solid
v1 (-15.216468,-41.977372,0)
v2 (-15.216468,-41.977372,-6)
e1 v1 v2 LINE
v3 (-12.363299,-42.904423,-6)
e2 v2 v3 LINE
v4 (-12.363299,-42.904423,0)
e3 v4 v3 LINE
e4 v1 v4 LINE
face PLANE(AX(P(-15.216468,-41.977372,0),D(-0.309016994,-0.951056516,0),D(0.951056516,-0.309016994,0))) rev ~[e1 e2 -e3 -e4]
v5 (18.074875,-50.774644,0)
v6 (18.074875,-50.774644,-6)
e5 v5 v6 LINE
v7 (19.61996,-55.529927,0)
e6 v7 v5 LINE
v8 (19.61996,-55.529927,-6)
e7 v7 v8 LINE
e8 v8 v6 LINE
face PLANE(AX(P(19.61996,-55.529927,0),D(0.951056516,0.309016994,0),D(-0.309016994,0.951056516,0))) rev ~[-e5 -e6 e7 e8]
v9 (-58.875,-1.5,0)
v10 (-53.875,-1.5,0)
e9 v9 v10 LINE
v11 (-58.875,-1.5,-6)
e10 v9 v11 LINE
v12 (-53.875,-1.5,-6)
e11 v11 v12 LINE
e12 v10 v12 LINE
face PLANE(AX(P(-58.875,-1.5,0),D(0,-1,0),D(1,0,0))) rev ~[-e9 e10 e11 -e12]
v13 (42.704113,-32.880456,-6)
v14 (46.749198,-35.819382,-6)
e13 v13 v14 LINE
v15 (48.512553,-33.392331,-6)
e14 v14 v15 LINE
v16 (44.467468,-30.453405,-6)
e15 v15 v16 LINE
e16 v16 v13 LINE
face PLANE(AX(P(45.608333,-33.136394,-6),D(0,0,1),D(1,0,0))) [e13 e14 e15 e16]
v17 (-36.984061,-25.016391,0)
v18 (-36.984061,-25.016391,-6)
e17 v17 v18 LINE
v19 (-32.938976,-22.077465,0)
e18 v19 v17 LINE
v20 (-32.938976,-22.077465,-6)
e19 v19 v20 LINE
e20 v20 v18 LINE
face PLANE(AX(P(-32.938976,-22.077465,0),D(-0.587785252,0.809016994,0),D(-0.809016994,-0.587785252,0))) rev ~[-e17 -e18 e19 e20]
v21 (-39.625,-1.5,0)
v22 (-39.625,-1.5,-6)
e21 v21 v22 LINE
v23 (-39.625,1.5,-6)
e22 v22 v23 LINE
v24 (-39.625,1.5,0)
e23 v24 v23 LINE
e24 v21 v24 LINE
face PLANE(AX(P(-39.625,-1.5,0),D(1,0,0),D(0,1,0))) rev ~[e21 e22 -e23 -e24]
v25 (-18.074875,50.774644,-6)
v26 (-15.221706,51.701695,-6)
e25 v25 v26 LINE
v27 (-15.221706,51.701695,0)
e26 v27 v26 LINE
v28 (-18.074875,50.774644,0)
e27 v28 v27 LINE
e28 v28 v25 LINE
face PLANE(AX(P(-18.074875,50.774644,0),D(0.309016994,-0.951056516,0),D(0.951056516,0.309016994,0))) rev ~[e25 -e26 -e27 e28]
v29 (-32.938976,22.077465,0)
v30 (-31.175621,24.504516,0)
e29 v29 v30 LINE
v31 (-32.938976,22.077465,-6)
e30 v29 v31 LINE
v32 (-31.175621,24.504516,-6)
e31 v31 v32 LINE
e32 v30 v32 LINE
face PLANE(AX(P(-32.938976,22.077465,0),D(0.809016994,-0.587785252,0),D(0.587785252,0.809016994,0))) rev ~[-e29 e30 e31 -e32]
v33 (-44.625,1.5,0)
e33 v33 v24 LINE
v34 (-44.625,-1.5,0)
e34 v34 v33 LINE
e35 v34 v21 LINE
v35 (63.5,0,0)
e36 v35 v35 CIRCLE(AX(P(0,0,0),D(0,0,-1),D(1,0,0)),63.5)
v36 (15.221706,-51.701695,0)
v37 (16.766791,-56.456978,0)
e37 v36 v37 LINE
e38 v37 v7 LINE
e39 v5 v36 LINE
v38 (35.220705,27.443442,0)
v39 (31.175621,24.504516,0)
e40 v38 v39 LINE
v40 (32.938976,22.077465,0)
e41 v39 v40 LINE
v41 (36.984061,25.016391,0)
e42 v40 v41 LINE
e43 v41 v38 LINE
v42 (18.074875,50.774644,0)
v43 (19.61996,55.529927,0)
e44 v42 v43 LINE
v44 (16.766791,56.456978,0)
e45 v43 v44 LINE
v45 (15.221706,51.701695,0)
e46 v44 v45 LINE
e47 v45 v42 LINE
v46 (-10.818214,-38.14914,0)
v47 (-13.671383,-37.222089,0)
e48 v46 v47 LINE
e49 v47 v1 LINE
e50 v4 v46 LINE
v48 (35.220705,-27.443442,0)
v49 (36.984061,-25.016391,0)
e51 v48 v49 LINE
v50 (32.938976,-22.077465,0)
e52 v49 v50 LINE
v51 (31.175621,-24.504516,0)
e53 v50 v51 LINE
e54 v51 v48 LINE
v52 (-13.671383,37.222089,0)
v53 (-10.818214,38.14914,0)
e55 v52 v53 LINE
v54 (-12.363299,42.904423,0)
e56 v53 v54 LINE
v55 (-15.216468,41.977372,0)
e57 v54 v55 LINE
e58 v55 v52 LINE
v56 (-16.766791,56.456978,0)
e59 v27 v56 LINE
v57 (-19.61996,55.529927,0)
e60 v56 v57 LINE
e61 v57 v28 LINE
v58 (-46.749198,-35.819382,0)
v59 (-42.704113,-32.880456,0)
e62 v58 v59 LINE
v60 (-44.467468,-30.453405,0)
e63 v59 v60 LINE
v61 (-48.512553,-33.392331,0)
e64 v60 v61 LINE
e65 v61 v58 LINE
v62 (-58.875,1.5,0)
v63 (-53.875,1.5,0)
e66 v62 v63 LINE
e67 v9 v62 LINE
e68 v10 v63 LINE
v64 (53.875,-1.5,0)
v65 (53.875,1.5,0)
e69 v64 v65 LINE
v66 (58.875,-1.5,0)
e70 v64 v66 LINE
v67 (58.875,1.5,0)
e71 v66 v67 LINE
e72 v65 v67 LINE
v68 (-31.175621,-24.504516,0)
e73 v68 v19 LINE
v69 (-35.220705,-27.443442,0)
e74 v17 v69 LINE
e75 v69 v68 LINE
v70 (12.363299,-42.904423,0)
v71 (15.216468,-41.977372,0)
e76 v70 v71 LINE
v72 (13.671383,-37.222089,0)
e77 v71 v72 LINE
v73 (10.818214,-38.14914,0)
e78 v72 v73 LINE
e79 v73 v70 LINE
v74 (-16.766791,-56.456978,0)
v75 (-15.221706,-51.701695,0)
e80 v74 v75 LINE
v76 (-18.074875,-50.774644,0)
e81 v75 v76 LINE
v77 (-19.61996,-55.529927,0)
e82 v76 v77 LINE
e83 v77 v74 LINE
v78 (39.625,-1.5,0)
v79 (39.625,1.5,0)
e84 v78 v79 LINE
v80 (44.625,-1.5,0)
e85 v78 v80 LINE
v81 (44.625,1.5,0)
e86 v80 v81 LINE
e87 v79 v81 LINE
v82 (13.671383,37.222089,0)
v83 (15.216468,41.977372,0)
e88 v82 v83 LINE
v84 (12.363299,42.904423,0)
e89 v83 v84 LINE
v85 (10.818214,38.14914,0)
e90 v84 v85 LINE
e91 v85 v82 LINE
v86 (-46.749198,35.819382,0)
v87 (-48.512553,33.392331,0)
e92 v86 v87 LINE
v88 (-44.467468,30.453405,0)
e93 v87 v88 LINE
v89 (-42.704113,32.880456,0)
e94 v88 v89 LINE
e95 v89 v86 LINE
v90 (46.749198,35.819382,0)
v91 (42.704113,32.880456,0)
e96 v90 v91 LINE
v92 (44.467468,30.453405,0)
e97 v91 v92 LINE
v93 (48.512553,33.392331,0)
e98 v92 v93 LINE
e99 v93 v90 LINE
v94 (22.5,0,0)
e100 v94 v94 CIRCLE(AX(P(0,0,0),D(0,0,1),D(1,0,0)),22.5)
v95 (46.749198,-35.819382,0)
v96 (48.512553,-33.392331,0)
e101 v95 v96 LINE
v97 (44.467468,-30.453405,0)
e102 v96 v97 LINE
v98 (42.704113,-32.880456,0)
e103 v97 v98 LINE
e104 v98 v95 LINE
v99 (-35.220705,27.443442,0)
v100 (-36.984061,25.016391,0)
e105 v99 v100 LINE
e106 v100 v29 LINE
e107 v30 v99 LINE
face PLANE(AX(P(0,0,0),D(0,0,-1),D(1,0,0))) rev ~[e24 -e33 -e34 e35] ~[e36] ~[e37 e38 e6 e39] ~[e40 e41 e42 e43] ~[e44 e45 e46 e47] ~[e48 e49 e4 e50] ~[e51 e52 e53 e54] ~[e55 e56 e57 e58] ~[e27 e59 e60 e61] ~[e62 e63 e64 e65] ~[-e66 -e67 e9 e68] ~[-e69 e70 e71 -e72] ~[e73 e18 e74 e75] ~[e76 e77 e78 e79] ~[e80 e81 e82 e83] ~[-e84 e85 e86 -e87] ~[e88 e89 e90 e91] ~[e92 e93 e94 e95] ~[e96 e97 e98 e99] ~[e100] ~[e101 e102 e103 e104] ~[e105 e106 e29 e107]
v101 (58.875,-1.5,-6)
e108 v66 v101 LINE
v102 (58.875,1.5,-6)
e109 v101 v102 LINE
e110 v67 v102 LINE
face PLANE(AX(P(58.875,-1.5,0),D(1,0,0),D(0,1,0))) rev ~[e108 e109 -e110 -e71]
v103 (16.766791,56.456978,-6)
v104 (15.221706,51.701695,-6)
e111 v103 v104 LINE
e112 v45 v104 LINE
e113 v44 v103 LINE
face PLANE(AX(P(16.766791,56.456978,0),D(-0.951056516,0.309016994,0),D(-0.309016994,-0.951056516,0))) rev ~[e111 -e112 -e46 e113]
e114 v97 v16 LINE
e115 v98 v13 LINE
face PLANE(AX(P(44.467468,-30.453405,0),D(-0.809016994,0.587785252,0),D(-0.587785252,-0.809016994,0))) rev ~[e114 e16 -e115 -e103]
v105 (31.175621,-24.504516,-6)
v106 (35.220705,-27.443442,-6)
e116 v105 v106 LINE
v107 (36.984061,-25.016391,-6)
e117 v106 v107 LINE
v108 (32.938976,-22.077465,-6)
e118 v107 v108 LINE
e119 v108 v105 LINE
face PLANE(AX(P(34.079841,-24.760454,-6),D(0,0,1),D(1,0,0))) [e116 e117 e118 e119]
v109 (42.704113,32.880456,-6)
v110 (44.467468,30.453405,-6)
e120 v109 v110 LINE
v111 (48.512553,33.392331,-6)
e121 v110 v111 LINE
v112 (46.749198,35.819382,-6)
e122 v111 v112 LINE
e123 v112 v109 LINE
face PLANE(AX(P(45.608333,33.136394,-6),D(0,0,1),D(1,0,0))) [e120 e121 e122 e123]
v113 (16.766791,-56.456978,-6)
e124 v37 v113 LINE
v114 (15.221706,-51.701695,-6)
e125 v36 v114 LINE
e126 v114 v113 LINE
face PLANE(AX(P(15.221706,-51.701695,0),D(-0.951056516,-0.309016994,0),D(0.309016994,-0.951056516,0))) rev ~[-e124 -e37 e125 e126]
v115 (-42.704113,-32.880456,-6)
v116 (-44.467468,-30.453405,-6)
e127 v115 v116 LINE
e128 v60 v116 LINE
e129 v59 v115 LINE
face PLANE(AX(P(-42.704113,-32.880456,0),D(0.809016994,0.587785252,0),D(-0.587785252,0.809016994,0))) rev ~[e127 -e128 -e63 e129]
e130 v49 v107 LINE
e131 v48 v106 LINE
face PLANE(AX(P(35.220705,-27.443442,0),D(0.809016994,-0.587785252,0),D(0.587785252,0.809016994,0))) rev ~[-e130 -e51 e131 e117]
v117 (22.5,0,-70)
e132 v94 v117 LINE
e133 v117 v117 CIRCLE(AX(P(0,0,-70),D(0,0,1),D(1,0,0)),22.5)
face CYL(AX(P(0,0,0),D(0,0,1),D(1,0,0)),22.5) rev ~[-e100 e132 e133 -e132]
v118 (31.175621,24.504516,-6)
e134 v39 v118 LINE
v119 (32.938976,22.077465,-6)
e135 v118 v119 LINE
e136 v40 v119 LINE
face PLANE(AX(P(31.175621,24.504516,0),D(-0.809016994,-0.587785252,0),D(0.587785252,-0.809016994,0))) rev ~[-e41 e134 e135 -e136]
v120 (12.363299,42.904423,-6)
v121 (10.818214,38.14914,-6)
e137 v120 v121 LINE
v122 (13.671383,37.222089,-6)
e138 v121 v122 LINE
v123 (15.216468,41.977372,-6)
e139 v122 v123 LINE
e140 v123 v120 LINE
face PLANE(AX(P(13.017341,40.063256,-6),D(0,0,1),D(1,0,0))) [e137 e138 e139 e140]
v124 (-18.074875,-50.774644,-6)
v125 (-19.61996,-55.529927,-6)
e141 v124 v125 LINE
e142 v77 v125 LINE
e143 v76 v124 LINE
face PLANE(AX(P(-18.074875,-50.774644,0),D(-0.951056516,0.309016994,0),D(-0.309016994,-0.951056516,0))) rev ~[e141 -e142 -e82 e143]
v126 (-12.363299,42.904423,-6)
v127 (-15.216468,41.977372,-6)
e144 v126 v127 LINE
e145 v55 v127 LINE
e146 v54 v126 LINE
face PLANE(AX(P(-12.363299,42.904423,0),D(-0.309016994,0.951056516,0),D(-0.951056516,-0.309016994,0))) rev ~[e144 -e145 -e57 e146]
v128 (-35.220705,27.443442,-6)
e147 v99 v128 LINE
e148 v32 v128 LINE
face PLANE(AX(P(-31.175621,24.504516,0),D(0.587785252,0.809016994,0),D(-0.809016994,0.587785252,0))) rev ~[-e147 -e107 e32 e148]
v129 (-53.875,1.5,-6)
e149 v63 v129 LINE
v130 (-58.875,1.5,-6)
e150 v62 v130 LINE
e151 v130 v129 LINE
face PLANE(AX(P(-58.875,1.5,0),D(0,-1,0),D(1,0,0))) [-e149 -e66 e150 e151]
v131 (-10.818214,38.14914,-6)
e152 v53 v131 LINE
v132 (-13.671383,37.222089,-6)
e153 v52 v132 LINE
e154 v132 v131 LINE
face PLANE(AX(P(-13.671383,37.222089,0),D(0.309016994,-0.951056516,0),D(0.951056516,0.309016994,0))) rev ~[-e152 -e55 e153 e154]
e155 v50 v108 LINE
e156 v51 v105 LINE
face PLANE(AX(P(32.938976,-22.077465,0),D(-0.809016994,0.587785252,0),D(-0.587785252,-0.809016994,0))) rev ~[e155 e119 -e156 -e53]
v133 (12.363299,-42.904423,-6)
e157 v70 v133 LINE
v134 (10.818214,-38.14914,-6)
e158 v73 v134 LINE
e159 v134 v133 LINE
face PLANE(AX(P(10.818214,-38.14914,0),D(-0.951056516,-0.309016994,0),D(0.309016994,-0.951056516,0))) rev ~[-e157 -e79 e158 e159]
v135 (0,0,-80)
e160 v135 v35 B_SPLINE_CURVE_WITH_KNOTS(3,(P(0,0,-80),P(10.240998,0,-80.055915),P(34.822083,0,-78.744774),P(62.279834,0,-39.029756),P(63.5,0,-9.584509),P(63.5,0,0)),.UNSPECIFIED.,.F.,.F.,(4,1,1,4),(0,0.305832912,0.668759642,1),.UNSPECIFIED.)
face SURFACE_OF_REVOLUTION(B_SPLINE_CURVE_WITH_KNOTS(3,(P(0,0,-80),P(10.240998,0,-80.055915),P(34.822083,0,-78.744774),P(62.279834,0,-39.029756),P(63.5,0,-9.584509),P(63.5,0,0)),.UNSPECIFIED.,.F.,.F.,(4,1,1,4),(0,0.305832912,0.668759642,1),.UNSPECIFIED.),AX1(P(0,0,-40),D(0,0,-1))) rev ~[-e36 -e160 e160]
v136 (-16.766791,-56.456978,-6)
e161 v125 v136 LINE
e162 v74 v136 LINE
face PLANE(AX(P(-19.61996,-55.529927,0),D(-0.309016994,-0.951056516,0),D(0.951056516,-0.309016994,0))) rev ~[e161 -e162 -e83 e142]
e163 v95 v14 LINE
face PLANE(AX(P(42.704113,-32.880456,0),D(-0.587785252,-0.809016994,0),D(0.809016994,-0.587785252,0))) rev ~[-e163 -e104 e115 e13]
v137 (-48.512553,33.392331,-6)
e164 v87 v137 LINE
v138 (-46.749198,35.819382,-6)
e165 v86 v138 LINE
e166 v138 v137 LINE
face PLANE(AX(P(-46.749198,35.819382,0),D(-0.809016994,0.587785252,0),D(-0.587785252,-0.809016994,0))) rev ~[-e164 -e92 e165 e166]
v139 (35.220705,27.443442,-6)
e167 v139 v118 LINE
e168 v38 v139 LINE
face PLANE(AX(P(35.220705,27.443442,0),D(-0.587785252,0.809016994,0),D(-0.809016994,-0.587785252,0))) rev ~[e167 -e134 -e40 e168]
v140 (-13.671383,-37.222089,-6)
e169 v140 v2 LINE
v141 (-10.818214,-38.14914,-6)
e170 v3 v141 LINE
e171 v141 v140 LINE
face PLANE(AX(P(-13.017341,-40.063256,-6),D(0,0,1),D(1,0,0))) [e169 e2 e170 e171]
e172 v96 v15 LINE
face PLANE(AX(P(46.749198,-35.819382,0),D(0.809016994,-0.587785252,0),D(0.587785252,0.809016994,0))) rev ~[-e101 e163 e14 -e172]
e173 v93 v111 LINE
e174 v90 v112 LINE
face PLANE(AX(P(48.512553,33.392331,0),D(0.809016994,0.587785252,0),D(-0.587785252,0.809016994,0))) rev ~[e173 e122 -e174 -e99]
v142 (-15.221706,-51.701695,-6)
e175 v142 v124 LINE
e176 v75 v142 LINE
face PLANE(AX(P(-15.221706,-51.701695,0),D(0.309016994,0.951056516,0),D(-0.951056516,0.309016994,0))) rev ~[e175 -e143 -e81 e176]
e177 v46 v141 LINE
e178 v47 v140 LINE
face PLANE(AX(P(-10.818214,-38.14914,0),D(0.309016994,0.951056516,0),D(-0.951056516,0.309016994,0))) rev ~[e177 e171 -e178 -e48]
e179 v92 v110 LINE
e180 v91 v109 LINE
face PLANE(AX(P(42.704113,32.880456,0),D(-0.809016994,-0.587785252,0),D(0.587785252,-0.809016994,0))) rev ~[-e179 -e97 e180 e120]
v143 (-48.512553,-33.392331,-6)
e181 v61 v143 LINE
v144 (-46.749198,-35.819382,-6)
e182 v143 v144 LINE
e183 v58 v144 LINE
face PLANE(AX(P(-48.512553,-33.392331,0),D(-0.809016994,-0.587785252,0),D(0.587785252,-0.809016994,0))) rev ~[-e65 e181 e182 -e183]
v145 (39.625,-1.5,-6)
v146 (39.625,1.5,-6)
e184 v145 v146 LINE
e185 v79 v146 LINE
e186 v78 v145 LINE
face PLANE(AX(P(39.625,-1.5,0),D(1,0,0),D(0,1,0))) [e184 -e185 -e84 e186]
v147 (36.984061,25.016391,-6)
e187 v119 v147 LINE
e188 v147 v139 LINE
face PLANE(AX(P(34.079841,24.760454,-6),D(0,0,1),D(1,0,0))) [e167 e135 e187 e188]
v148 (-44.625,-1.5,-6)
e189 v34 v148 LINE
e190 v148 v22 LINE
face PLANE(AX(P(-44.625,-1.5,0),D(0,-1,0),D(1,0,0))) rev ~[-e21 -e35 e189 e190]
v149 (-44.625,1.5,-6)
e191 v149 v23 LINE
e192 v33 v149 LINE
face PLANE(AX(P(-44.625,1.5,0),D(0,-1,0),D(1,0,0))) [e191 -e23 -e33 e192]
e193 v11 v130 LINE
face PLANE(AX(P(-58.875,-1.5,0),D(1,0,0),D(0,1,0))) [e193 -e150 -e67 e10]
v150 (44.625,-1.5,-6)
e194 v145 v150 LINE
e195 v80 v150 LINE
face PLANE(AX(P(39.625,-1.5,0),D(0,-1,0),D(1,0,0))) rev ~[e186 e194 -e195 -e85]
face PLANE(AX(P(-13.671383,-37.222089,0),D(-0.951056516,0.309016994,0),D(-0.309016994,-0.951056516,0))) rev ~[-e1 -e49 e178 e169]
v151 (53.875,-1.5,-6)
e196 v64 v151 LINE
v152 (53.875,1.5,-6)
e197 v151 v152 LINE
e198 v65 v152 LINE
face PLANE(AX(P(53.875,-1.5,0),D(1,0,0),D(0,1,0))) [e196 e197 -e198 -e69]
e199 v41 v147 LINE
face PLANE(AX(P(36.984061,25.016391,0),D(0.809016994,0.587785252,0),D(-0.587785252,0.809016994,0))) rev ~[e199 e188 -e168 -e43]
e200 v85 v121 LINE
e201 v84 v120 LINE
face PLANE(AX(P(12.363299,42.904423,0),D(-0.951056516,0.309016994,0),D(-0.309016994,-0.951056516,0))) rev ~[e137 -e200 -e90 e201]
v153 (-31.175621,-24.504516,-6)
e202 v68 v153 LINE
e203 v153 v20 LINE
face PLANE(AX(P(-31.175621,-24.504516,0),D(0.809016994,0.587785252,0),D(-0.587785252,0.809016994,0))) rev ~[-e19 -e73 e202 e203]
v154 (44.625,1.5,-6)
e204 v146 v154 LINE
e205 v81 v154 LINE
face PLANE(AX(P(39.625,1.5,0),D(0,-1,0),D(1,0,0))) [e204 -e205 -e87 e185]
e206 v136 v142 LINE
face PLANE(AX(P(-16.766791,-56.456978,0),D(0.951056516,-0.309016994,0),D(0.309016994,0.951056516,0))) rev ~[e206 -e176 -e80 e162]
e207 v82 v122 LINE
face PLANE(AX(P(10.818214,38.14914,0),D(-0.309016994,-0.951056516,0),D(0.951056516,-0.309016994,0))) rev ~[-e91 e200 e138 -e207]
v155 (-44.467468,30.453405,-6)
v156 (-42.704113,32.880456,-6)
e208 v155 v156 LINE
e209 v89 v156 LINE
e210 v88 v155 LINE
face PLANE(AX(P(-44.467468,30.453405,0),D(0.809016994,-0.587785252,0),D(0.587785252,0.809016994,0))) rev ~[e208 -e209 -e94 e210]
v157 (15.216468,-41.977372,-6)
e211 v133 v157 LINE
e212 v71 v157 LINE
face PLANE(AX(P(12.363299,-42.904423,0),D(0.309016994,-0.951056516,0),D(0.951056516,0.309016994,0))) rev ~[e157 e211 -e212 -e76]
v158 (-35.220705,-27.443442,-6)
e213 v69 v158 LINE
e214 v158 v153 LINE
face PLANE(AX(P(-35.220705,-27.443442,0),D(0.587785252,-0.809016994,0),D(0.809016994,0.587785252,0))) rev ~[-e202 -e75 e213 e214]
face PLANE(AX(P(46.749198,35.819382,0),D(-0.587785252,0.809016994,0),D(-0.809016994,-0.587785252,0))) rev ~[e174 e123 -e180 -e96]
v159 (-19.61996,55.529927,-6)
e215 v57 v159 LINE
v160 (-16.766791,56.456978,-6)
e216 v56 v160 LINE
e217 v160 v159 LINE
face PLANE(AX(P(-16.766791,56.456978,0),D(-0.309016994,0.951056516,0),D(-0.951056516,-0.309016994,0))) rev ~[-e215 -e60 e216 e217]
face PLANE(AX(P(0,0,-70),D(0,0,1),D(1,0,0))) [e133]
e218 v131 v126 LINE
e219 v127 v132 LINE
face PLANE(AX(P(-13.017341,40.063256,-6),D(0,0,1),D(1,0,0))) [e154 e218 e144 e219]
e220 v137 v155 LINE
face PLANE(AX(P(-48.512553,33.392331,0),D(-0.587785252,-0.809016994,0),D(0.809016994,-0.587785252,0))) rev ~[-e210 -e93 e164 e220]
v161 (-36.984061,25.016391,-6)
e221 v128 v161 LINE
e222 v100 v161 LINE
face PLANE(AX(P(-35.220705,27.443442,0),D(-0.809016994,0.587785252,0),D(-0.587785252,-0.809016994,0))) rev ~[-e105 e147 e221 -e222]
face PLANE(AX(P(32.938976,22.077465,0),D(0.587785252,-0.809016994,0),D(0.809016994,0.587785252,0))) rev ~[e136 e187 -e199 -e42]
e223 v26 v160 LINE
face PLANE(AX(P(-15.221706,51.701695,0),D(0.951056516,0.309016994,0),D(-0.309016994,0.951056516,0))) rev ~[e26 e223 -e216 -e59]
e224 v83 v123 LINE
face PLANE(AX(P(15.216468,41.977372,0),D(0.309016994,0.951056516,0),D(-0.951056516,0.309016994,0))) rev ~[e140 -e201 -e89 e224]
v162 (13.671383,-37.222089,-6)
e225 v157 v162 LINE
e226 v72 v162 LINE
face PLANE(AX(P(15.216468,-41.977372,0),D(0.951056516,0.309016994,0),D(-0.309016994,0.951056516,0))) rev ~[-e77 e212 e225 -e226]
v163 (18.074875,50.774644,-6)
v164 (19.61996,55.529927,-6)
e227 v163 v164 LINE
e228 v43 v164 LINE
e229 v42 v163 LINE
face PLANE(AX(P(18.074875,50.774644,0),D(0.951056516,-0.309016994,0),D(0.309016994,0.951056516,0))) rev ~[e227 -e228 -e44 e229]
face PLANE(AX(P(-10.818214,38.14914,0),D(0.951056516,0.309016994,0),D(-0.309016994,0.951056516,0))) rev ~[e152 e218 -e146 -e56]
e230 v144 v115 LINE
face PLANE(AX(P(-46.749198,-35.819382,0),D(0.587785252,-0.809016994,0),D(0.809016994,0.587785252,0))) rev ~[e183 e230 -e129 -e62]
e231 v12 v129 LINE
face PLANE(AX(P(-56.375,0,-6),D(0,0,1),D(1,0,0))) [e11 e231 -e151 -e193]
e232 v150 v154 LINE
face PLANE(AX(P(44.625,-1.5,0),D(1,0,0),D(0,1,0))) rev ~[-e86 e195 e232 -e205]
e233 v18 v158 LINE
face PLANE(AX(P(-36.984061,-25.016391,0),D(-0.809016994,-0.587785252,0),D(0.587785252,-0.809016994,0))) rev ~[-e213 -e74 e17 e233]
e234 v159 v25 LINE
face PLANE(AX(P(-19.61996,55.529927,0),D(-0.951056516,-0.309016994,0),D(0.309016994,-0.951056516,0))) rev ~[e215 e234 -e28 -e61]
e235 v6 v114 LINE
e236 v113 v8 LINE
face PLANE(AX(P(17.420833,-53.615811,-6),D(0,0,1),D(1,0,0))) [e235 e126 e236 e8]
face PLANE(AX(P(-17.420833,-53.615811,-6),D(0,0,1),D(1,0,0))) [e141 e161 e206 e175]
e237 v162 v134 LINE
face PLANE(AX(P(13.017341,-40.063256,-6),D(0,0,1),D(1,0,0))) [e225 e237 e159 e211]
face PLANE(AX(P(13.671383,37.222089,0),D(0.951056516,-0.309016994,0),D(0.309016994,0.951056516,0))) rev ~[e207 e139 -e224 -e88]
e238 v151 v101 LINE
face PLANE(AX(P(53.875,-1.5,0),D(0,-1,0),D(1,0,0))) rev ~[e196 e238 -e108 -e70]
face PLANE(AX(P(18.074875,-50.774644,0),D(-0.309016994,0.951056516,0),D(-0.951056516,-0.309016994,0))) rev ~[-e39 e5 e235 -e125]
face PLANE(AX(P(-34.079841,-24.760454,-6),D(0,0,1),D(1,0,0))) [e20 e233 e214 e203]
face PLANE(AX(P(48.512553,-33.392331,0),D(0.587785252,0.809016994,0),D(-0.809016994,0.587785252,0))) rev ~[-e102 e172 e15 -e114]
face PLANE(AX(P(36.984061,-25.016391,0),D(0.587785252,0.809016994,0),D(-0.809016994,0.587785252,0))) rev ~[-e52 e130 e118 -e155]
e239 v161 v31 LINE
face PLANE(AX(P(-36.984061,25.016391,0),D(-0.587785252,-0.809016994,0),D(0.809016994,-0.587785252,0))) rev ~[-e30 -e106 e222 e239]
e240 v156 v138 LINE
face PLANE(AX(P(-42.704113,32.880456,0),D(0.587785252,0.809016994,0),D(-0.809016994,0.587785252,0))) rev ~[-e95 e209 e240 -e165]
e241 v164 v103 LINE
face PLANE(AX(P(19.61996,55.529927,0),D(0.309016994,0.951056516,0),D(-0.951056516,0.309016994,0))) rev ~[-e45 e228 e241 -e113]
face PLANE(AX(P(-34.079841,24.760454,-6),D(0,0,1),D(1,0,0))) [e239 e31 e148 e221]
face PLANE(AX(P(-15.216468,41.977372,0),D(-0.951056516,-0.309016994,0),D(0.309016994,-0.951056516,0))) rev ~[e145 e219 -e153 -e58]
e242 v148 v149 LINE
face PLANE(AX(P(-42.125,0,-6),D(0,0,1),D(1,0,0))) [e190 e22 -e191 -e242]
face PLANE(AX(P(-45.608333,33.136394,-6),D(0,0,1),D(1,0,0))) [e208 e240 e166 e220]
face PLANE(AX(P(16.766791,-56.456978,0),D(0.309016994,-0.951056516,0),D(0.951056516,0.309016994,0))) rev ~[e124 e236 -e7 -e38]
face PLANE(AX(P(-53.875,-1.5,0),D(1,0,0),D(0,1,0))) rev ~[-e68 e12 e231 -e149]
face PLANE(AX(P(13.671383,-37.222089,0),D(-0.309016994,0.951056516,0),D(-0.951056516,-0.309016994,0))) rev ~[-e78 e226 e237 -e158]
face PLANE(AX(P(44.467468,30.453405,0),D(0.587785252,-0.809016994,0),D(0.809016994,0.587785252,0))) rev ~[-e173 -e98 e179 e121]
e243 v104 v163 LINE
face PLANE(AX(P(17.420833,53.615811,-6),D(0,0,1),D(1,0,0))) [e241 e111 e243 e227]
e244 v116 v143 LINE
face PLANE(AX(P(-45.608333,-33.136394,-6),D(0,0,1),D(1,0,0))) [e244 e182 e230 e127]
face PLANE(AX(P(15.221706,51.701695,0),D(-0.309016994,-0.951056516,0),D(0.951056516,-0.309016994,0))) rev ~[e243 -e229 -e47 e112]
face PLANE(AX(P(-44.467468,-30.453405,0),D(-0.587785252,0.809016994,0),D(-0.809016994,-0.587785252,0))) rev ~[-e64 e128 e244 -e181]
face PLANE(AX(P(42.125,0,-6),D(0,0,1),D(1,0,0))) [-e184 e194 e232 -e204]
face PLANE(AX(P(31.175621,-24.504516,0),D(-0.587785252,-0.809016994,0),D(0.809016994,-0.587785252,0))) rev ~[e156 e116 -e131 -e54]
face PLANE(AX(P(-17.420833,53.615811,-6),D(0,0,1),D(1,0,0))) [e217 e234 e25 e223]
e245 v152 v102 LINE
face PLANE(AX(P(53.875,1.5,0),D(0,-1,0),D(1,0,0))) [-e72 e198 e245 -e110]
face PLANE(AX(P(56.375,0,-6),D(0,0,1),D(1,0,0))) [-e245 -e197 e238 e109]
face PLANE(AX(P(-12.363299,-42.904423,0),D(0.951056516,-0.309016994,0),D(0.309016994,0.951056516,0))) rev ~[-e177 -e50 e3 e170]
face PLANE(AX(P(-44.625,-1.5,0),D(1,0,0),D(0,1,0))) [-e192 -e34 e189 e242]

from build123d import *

# Parameters (mm, degrees)
F2_R     = 22.5
F3_DEPTH = 70
F4_W     = 5
F4_H     = 3
F5_DEPTH = 6


with BuildPart() as f1:
    # F0 (on Front) → F1 (revolve)
    with BuildSketch(Plane.XZ):
        with BuildLine():
            Line((63.5, 0), (0, 0))
            Line((0, 0), (0, -80))
            add(Edge.make_bspline(
                [(0, -80), (10.2409981191, -80.0559148192), (34.8220828583, -78.7447738141), (62.2798344564, -39.0297563597), (63.5, -9.5845087473), (63.5, 0)],
                knots=[0, 0, 0, 0, 0.3058329124, 0.6687596422, 1, 1, 1, 1], degree=3))
        make_face()
    revolve(axis=Axis((0, 0, -40), (0, 0, -1)))

    # F2 (on face) → F3 (cut)
    with BuildSketch(Plane.XY):
        Circle(F2_R)
    extrude(amount=-F3_DEPTH, mode=Mode.SUBTRACT)

    # F4 (on Top) → F5 (cut)
    with BuildSketch(Plane.XY):
        with Locations((-42.125, 0)):
            Rectangle(F4_W, F4_H)
        with Locations((-56.375, 0)):
            Rectangle(F4_W, F4_H)
        Polygon((-46.7491976654, -35.8193822203), (-42.7041126935, -32.8804559588), (-44.4674684504, -30.4534049757), (-48.5125534223, -33.3923312372), align=None)
        Polygon((-31.1756205237, -24.5045161137), (-32.9389762805, -22.0774651305), (-36.9840612524, -25.016391392), (-35.2207054955, -27.4434423751), align=None)
        Polygon((-16.7667907694, -56.4569778884), (-15.2217057975, -51.701695307), (-18.0748753464, -50.7746443238), (-19.6199603183, -55.5299269053), align=None)
        Polygon((-10.8182136277, -38.1491399498), (-13.6713831766, -37.2220889666), (-15.2164681484, -41.9773715481), (-12.3632985995, -42.9044225312), align=None)
        Polygon((19.6199603183, -55.5299269053), (18.0748753464, -50.7746443238), (15.2217057975, -51.701695307), (16.7667907694, -56.4569778884), align=None)
        Polygon((13.6713831766, -37.2220889666), (10.8182136277, -38.1491399498), (12.3632985995, -42.9044225312), (15.2164681484, -41.9773715481), align=None)
        Polygon((48.5125534223, -33.3923312372), (44.4674684504, -30.4534049757), (42.7041126935, -32.8804559588), (46.7491976654, -35.8193822203), align=None)
        Polygon((32.9389762805, -22.0774651305), (31.1756205237, -24.5045161137), (35.2207054955, -27.4434423751), (36.9840612524, -25.016391392), align=None)
        with Locations((56.375, 0)):
            Rectangle(F4_W, F4_H)
        with Locations((42.125, 0)):
            Rectangle(F4_W, F4_H)
        Polygon((46.7491976654, 35.8193822203), (42.7041126935, 32.8804559588), (44.4674684504, 30.4534049757), (48.5125534223, 33.3923312372), align=None)
        Polygon((31.1756205237, 24.5045161137), (32.9389762805, 22.0774651305), (36.9840612524, 25.016391392), (35.2207054955, 27.4434423751), align=None)
        Polygon((16.7667907694, 56.4569778884), (15.2217057975, 51.701695307), (18.0748753464, 50.7746443238), (19.6199603183, 55.5299269053), align=None)
        Polygon((10.8182136277, 38.1491399498), (13.6713831766, 37.2220889666), (15.2164681484, 41.9773715481), (12.3632985995, 42.9044225312), align=None)
        Polygon((-19.6199603183, 55.5299269053), (-18.0748753464, 50.7746443238), (-15.2217057975, 51.701695307), (-16.7667907694, 56.4569778884), align=None)
        Polygon((-13.6713831766, 37.2220889666), (-10.8182136277, 38.1491399498), (-12.3632985995, 42.9044225312), (-15.2164681484, 41.9773715481), align=None)
        Polygon((-48.5125534223, 33.3923312372), (-44.4674684504, 30.4534049757), (-42.7041126935, 32.8804559588), (-46.7491976654, 35.8193822203), align=None)
        Polygon((-32.9389762805, 22.0774651305), (-31.1756205237, 24.5045161137), (-35.2207054955, 27.4434423751), (-36.9840612524, 25.016391392), align=None)
    extrude(amount=-F5_DEPTH, mode=Mode.SUBTRACT)


solid = f1.part
